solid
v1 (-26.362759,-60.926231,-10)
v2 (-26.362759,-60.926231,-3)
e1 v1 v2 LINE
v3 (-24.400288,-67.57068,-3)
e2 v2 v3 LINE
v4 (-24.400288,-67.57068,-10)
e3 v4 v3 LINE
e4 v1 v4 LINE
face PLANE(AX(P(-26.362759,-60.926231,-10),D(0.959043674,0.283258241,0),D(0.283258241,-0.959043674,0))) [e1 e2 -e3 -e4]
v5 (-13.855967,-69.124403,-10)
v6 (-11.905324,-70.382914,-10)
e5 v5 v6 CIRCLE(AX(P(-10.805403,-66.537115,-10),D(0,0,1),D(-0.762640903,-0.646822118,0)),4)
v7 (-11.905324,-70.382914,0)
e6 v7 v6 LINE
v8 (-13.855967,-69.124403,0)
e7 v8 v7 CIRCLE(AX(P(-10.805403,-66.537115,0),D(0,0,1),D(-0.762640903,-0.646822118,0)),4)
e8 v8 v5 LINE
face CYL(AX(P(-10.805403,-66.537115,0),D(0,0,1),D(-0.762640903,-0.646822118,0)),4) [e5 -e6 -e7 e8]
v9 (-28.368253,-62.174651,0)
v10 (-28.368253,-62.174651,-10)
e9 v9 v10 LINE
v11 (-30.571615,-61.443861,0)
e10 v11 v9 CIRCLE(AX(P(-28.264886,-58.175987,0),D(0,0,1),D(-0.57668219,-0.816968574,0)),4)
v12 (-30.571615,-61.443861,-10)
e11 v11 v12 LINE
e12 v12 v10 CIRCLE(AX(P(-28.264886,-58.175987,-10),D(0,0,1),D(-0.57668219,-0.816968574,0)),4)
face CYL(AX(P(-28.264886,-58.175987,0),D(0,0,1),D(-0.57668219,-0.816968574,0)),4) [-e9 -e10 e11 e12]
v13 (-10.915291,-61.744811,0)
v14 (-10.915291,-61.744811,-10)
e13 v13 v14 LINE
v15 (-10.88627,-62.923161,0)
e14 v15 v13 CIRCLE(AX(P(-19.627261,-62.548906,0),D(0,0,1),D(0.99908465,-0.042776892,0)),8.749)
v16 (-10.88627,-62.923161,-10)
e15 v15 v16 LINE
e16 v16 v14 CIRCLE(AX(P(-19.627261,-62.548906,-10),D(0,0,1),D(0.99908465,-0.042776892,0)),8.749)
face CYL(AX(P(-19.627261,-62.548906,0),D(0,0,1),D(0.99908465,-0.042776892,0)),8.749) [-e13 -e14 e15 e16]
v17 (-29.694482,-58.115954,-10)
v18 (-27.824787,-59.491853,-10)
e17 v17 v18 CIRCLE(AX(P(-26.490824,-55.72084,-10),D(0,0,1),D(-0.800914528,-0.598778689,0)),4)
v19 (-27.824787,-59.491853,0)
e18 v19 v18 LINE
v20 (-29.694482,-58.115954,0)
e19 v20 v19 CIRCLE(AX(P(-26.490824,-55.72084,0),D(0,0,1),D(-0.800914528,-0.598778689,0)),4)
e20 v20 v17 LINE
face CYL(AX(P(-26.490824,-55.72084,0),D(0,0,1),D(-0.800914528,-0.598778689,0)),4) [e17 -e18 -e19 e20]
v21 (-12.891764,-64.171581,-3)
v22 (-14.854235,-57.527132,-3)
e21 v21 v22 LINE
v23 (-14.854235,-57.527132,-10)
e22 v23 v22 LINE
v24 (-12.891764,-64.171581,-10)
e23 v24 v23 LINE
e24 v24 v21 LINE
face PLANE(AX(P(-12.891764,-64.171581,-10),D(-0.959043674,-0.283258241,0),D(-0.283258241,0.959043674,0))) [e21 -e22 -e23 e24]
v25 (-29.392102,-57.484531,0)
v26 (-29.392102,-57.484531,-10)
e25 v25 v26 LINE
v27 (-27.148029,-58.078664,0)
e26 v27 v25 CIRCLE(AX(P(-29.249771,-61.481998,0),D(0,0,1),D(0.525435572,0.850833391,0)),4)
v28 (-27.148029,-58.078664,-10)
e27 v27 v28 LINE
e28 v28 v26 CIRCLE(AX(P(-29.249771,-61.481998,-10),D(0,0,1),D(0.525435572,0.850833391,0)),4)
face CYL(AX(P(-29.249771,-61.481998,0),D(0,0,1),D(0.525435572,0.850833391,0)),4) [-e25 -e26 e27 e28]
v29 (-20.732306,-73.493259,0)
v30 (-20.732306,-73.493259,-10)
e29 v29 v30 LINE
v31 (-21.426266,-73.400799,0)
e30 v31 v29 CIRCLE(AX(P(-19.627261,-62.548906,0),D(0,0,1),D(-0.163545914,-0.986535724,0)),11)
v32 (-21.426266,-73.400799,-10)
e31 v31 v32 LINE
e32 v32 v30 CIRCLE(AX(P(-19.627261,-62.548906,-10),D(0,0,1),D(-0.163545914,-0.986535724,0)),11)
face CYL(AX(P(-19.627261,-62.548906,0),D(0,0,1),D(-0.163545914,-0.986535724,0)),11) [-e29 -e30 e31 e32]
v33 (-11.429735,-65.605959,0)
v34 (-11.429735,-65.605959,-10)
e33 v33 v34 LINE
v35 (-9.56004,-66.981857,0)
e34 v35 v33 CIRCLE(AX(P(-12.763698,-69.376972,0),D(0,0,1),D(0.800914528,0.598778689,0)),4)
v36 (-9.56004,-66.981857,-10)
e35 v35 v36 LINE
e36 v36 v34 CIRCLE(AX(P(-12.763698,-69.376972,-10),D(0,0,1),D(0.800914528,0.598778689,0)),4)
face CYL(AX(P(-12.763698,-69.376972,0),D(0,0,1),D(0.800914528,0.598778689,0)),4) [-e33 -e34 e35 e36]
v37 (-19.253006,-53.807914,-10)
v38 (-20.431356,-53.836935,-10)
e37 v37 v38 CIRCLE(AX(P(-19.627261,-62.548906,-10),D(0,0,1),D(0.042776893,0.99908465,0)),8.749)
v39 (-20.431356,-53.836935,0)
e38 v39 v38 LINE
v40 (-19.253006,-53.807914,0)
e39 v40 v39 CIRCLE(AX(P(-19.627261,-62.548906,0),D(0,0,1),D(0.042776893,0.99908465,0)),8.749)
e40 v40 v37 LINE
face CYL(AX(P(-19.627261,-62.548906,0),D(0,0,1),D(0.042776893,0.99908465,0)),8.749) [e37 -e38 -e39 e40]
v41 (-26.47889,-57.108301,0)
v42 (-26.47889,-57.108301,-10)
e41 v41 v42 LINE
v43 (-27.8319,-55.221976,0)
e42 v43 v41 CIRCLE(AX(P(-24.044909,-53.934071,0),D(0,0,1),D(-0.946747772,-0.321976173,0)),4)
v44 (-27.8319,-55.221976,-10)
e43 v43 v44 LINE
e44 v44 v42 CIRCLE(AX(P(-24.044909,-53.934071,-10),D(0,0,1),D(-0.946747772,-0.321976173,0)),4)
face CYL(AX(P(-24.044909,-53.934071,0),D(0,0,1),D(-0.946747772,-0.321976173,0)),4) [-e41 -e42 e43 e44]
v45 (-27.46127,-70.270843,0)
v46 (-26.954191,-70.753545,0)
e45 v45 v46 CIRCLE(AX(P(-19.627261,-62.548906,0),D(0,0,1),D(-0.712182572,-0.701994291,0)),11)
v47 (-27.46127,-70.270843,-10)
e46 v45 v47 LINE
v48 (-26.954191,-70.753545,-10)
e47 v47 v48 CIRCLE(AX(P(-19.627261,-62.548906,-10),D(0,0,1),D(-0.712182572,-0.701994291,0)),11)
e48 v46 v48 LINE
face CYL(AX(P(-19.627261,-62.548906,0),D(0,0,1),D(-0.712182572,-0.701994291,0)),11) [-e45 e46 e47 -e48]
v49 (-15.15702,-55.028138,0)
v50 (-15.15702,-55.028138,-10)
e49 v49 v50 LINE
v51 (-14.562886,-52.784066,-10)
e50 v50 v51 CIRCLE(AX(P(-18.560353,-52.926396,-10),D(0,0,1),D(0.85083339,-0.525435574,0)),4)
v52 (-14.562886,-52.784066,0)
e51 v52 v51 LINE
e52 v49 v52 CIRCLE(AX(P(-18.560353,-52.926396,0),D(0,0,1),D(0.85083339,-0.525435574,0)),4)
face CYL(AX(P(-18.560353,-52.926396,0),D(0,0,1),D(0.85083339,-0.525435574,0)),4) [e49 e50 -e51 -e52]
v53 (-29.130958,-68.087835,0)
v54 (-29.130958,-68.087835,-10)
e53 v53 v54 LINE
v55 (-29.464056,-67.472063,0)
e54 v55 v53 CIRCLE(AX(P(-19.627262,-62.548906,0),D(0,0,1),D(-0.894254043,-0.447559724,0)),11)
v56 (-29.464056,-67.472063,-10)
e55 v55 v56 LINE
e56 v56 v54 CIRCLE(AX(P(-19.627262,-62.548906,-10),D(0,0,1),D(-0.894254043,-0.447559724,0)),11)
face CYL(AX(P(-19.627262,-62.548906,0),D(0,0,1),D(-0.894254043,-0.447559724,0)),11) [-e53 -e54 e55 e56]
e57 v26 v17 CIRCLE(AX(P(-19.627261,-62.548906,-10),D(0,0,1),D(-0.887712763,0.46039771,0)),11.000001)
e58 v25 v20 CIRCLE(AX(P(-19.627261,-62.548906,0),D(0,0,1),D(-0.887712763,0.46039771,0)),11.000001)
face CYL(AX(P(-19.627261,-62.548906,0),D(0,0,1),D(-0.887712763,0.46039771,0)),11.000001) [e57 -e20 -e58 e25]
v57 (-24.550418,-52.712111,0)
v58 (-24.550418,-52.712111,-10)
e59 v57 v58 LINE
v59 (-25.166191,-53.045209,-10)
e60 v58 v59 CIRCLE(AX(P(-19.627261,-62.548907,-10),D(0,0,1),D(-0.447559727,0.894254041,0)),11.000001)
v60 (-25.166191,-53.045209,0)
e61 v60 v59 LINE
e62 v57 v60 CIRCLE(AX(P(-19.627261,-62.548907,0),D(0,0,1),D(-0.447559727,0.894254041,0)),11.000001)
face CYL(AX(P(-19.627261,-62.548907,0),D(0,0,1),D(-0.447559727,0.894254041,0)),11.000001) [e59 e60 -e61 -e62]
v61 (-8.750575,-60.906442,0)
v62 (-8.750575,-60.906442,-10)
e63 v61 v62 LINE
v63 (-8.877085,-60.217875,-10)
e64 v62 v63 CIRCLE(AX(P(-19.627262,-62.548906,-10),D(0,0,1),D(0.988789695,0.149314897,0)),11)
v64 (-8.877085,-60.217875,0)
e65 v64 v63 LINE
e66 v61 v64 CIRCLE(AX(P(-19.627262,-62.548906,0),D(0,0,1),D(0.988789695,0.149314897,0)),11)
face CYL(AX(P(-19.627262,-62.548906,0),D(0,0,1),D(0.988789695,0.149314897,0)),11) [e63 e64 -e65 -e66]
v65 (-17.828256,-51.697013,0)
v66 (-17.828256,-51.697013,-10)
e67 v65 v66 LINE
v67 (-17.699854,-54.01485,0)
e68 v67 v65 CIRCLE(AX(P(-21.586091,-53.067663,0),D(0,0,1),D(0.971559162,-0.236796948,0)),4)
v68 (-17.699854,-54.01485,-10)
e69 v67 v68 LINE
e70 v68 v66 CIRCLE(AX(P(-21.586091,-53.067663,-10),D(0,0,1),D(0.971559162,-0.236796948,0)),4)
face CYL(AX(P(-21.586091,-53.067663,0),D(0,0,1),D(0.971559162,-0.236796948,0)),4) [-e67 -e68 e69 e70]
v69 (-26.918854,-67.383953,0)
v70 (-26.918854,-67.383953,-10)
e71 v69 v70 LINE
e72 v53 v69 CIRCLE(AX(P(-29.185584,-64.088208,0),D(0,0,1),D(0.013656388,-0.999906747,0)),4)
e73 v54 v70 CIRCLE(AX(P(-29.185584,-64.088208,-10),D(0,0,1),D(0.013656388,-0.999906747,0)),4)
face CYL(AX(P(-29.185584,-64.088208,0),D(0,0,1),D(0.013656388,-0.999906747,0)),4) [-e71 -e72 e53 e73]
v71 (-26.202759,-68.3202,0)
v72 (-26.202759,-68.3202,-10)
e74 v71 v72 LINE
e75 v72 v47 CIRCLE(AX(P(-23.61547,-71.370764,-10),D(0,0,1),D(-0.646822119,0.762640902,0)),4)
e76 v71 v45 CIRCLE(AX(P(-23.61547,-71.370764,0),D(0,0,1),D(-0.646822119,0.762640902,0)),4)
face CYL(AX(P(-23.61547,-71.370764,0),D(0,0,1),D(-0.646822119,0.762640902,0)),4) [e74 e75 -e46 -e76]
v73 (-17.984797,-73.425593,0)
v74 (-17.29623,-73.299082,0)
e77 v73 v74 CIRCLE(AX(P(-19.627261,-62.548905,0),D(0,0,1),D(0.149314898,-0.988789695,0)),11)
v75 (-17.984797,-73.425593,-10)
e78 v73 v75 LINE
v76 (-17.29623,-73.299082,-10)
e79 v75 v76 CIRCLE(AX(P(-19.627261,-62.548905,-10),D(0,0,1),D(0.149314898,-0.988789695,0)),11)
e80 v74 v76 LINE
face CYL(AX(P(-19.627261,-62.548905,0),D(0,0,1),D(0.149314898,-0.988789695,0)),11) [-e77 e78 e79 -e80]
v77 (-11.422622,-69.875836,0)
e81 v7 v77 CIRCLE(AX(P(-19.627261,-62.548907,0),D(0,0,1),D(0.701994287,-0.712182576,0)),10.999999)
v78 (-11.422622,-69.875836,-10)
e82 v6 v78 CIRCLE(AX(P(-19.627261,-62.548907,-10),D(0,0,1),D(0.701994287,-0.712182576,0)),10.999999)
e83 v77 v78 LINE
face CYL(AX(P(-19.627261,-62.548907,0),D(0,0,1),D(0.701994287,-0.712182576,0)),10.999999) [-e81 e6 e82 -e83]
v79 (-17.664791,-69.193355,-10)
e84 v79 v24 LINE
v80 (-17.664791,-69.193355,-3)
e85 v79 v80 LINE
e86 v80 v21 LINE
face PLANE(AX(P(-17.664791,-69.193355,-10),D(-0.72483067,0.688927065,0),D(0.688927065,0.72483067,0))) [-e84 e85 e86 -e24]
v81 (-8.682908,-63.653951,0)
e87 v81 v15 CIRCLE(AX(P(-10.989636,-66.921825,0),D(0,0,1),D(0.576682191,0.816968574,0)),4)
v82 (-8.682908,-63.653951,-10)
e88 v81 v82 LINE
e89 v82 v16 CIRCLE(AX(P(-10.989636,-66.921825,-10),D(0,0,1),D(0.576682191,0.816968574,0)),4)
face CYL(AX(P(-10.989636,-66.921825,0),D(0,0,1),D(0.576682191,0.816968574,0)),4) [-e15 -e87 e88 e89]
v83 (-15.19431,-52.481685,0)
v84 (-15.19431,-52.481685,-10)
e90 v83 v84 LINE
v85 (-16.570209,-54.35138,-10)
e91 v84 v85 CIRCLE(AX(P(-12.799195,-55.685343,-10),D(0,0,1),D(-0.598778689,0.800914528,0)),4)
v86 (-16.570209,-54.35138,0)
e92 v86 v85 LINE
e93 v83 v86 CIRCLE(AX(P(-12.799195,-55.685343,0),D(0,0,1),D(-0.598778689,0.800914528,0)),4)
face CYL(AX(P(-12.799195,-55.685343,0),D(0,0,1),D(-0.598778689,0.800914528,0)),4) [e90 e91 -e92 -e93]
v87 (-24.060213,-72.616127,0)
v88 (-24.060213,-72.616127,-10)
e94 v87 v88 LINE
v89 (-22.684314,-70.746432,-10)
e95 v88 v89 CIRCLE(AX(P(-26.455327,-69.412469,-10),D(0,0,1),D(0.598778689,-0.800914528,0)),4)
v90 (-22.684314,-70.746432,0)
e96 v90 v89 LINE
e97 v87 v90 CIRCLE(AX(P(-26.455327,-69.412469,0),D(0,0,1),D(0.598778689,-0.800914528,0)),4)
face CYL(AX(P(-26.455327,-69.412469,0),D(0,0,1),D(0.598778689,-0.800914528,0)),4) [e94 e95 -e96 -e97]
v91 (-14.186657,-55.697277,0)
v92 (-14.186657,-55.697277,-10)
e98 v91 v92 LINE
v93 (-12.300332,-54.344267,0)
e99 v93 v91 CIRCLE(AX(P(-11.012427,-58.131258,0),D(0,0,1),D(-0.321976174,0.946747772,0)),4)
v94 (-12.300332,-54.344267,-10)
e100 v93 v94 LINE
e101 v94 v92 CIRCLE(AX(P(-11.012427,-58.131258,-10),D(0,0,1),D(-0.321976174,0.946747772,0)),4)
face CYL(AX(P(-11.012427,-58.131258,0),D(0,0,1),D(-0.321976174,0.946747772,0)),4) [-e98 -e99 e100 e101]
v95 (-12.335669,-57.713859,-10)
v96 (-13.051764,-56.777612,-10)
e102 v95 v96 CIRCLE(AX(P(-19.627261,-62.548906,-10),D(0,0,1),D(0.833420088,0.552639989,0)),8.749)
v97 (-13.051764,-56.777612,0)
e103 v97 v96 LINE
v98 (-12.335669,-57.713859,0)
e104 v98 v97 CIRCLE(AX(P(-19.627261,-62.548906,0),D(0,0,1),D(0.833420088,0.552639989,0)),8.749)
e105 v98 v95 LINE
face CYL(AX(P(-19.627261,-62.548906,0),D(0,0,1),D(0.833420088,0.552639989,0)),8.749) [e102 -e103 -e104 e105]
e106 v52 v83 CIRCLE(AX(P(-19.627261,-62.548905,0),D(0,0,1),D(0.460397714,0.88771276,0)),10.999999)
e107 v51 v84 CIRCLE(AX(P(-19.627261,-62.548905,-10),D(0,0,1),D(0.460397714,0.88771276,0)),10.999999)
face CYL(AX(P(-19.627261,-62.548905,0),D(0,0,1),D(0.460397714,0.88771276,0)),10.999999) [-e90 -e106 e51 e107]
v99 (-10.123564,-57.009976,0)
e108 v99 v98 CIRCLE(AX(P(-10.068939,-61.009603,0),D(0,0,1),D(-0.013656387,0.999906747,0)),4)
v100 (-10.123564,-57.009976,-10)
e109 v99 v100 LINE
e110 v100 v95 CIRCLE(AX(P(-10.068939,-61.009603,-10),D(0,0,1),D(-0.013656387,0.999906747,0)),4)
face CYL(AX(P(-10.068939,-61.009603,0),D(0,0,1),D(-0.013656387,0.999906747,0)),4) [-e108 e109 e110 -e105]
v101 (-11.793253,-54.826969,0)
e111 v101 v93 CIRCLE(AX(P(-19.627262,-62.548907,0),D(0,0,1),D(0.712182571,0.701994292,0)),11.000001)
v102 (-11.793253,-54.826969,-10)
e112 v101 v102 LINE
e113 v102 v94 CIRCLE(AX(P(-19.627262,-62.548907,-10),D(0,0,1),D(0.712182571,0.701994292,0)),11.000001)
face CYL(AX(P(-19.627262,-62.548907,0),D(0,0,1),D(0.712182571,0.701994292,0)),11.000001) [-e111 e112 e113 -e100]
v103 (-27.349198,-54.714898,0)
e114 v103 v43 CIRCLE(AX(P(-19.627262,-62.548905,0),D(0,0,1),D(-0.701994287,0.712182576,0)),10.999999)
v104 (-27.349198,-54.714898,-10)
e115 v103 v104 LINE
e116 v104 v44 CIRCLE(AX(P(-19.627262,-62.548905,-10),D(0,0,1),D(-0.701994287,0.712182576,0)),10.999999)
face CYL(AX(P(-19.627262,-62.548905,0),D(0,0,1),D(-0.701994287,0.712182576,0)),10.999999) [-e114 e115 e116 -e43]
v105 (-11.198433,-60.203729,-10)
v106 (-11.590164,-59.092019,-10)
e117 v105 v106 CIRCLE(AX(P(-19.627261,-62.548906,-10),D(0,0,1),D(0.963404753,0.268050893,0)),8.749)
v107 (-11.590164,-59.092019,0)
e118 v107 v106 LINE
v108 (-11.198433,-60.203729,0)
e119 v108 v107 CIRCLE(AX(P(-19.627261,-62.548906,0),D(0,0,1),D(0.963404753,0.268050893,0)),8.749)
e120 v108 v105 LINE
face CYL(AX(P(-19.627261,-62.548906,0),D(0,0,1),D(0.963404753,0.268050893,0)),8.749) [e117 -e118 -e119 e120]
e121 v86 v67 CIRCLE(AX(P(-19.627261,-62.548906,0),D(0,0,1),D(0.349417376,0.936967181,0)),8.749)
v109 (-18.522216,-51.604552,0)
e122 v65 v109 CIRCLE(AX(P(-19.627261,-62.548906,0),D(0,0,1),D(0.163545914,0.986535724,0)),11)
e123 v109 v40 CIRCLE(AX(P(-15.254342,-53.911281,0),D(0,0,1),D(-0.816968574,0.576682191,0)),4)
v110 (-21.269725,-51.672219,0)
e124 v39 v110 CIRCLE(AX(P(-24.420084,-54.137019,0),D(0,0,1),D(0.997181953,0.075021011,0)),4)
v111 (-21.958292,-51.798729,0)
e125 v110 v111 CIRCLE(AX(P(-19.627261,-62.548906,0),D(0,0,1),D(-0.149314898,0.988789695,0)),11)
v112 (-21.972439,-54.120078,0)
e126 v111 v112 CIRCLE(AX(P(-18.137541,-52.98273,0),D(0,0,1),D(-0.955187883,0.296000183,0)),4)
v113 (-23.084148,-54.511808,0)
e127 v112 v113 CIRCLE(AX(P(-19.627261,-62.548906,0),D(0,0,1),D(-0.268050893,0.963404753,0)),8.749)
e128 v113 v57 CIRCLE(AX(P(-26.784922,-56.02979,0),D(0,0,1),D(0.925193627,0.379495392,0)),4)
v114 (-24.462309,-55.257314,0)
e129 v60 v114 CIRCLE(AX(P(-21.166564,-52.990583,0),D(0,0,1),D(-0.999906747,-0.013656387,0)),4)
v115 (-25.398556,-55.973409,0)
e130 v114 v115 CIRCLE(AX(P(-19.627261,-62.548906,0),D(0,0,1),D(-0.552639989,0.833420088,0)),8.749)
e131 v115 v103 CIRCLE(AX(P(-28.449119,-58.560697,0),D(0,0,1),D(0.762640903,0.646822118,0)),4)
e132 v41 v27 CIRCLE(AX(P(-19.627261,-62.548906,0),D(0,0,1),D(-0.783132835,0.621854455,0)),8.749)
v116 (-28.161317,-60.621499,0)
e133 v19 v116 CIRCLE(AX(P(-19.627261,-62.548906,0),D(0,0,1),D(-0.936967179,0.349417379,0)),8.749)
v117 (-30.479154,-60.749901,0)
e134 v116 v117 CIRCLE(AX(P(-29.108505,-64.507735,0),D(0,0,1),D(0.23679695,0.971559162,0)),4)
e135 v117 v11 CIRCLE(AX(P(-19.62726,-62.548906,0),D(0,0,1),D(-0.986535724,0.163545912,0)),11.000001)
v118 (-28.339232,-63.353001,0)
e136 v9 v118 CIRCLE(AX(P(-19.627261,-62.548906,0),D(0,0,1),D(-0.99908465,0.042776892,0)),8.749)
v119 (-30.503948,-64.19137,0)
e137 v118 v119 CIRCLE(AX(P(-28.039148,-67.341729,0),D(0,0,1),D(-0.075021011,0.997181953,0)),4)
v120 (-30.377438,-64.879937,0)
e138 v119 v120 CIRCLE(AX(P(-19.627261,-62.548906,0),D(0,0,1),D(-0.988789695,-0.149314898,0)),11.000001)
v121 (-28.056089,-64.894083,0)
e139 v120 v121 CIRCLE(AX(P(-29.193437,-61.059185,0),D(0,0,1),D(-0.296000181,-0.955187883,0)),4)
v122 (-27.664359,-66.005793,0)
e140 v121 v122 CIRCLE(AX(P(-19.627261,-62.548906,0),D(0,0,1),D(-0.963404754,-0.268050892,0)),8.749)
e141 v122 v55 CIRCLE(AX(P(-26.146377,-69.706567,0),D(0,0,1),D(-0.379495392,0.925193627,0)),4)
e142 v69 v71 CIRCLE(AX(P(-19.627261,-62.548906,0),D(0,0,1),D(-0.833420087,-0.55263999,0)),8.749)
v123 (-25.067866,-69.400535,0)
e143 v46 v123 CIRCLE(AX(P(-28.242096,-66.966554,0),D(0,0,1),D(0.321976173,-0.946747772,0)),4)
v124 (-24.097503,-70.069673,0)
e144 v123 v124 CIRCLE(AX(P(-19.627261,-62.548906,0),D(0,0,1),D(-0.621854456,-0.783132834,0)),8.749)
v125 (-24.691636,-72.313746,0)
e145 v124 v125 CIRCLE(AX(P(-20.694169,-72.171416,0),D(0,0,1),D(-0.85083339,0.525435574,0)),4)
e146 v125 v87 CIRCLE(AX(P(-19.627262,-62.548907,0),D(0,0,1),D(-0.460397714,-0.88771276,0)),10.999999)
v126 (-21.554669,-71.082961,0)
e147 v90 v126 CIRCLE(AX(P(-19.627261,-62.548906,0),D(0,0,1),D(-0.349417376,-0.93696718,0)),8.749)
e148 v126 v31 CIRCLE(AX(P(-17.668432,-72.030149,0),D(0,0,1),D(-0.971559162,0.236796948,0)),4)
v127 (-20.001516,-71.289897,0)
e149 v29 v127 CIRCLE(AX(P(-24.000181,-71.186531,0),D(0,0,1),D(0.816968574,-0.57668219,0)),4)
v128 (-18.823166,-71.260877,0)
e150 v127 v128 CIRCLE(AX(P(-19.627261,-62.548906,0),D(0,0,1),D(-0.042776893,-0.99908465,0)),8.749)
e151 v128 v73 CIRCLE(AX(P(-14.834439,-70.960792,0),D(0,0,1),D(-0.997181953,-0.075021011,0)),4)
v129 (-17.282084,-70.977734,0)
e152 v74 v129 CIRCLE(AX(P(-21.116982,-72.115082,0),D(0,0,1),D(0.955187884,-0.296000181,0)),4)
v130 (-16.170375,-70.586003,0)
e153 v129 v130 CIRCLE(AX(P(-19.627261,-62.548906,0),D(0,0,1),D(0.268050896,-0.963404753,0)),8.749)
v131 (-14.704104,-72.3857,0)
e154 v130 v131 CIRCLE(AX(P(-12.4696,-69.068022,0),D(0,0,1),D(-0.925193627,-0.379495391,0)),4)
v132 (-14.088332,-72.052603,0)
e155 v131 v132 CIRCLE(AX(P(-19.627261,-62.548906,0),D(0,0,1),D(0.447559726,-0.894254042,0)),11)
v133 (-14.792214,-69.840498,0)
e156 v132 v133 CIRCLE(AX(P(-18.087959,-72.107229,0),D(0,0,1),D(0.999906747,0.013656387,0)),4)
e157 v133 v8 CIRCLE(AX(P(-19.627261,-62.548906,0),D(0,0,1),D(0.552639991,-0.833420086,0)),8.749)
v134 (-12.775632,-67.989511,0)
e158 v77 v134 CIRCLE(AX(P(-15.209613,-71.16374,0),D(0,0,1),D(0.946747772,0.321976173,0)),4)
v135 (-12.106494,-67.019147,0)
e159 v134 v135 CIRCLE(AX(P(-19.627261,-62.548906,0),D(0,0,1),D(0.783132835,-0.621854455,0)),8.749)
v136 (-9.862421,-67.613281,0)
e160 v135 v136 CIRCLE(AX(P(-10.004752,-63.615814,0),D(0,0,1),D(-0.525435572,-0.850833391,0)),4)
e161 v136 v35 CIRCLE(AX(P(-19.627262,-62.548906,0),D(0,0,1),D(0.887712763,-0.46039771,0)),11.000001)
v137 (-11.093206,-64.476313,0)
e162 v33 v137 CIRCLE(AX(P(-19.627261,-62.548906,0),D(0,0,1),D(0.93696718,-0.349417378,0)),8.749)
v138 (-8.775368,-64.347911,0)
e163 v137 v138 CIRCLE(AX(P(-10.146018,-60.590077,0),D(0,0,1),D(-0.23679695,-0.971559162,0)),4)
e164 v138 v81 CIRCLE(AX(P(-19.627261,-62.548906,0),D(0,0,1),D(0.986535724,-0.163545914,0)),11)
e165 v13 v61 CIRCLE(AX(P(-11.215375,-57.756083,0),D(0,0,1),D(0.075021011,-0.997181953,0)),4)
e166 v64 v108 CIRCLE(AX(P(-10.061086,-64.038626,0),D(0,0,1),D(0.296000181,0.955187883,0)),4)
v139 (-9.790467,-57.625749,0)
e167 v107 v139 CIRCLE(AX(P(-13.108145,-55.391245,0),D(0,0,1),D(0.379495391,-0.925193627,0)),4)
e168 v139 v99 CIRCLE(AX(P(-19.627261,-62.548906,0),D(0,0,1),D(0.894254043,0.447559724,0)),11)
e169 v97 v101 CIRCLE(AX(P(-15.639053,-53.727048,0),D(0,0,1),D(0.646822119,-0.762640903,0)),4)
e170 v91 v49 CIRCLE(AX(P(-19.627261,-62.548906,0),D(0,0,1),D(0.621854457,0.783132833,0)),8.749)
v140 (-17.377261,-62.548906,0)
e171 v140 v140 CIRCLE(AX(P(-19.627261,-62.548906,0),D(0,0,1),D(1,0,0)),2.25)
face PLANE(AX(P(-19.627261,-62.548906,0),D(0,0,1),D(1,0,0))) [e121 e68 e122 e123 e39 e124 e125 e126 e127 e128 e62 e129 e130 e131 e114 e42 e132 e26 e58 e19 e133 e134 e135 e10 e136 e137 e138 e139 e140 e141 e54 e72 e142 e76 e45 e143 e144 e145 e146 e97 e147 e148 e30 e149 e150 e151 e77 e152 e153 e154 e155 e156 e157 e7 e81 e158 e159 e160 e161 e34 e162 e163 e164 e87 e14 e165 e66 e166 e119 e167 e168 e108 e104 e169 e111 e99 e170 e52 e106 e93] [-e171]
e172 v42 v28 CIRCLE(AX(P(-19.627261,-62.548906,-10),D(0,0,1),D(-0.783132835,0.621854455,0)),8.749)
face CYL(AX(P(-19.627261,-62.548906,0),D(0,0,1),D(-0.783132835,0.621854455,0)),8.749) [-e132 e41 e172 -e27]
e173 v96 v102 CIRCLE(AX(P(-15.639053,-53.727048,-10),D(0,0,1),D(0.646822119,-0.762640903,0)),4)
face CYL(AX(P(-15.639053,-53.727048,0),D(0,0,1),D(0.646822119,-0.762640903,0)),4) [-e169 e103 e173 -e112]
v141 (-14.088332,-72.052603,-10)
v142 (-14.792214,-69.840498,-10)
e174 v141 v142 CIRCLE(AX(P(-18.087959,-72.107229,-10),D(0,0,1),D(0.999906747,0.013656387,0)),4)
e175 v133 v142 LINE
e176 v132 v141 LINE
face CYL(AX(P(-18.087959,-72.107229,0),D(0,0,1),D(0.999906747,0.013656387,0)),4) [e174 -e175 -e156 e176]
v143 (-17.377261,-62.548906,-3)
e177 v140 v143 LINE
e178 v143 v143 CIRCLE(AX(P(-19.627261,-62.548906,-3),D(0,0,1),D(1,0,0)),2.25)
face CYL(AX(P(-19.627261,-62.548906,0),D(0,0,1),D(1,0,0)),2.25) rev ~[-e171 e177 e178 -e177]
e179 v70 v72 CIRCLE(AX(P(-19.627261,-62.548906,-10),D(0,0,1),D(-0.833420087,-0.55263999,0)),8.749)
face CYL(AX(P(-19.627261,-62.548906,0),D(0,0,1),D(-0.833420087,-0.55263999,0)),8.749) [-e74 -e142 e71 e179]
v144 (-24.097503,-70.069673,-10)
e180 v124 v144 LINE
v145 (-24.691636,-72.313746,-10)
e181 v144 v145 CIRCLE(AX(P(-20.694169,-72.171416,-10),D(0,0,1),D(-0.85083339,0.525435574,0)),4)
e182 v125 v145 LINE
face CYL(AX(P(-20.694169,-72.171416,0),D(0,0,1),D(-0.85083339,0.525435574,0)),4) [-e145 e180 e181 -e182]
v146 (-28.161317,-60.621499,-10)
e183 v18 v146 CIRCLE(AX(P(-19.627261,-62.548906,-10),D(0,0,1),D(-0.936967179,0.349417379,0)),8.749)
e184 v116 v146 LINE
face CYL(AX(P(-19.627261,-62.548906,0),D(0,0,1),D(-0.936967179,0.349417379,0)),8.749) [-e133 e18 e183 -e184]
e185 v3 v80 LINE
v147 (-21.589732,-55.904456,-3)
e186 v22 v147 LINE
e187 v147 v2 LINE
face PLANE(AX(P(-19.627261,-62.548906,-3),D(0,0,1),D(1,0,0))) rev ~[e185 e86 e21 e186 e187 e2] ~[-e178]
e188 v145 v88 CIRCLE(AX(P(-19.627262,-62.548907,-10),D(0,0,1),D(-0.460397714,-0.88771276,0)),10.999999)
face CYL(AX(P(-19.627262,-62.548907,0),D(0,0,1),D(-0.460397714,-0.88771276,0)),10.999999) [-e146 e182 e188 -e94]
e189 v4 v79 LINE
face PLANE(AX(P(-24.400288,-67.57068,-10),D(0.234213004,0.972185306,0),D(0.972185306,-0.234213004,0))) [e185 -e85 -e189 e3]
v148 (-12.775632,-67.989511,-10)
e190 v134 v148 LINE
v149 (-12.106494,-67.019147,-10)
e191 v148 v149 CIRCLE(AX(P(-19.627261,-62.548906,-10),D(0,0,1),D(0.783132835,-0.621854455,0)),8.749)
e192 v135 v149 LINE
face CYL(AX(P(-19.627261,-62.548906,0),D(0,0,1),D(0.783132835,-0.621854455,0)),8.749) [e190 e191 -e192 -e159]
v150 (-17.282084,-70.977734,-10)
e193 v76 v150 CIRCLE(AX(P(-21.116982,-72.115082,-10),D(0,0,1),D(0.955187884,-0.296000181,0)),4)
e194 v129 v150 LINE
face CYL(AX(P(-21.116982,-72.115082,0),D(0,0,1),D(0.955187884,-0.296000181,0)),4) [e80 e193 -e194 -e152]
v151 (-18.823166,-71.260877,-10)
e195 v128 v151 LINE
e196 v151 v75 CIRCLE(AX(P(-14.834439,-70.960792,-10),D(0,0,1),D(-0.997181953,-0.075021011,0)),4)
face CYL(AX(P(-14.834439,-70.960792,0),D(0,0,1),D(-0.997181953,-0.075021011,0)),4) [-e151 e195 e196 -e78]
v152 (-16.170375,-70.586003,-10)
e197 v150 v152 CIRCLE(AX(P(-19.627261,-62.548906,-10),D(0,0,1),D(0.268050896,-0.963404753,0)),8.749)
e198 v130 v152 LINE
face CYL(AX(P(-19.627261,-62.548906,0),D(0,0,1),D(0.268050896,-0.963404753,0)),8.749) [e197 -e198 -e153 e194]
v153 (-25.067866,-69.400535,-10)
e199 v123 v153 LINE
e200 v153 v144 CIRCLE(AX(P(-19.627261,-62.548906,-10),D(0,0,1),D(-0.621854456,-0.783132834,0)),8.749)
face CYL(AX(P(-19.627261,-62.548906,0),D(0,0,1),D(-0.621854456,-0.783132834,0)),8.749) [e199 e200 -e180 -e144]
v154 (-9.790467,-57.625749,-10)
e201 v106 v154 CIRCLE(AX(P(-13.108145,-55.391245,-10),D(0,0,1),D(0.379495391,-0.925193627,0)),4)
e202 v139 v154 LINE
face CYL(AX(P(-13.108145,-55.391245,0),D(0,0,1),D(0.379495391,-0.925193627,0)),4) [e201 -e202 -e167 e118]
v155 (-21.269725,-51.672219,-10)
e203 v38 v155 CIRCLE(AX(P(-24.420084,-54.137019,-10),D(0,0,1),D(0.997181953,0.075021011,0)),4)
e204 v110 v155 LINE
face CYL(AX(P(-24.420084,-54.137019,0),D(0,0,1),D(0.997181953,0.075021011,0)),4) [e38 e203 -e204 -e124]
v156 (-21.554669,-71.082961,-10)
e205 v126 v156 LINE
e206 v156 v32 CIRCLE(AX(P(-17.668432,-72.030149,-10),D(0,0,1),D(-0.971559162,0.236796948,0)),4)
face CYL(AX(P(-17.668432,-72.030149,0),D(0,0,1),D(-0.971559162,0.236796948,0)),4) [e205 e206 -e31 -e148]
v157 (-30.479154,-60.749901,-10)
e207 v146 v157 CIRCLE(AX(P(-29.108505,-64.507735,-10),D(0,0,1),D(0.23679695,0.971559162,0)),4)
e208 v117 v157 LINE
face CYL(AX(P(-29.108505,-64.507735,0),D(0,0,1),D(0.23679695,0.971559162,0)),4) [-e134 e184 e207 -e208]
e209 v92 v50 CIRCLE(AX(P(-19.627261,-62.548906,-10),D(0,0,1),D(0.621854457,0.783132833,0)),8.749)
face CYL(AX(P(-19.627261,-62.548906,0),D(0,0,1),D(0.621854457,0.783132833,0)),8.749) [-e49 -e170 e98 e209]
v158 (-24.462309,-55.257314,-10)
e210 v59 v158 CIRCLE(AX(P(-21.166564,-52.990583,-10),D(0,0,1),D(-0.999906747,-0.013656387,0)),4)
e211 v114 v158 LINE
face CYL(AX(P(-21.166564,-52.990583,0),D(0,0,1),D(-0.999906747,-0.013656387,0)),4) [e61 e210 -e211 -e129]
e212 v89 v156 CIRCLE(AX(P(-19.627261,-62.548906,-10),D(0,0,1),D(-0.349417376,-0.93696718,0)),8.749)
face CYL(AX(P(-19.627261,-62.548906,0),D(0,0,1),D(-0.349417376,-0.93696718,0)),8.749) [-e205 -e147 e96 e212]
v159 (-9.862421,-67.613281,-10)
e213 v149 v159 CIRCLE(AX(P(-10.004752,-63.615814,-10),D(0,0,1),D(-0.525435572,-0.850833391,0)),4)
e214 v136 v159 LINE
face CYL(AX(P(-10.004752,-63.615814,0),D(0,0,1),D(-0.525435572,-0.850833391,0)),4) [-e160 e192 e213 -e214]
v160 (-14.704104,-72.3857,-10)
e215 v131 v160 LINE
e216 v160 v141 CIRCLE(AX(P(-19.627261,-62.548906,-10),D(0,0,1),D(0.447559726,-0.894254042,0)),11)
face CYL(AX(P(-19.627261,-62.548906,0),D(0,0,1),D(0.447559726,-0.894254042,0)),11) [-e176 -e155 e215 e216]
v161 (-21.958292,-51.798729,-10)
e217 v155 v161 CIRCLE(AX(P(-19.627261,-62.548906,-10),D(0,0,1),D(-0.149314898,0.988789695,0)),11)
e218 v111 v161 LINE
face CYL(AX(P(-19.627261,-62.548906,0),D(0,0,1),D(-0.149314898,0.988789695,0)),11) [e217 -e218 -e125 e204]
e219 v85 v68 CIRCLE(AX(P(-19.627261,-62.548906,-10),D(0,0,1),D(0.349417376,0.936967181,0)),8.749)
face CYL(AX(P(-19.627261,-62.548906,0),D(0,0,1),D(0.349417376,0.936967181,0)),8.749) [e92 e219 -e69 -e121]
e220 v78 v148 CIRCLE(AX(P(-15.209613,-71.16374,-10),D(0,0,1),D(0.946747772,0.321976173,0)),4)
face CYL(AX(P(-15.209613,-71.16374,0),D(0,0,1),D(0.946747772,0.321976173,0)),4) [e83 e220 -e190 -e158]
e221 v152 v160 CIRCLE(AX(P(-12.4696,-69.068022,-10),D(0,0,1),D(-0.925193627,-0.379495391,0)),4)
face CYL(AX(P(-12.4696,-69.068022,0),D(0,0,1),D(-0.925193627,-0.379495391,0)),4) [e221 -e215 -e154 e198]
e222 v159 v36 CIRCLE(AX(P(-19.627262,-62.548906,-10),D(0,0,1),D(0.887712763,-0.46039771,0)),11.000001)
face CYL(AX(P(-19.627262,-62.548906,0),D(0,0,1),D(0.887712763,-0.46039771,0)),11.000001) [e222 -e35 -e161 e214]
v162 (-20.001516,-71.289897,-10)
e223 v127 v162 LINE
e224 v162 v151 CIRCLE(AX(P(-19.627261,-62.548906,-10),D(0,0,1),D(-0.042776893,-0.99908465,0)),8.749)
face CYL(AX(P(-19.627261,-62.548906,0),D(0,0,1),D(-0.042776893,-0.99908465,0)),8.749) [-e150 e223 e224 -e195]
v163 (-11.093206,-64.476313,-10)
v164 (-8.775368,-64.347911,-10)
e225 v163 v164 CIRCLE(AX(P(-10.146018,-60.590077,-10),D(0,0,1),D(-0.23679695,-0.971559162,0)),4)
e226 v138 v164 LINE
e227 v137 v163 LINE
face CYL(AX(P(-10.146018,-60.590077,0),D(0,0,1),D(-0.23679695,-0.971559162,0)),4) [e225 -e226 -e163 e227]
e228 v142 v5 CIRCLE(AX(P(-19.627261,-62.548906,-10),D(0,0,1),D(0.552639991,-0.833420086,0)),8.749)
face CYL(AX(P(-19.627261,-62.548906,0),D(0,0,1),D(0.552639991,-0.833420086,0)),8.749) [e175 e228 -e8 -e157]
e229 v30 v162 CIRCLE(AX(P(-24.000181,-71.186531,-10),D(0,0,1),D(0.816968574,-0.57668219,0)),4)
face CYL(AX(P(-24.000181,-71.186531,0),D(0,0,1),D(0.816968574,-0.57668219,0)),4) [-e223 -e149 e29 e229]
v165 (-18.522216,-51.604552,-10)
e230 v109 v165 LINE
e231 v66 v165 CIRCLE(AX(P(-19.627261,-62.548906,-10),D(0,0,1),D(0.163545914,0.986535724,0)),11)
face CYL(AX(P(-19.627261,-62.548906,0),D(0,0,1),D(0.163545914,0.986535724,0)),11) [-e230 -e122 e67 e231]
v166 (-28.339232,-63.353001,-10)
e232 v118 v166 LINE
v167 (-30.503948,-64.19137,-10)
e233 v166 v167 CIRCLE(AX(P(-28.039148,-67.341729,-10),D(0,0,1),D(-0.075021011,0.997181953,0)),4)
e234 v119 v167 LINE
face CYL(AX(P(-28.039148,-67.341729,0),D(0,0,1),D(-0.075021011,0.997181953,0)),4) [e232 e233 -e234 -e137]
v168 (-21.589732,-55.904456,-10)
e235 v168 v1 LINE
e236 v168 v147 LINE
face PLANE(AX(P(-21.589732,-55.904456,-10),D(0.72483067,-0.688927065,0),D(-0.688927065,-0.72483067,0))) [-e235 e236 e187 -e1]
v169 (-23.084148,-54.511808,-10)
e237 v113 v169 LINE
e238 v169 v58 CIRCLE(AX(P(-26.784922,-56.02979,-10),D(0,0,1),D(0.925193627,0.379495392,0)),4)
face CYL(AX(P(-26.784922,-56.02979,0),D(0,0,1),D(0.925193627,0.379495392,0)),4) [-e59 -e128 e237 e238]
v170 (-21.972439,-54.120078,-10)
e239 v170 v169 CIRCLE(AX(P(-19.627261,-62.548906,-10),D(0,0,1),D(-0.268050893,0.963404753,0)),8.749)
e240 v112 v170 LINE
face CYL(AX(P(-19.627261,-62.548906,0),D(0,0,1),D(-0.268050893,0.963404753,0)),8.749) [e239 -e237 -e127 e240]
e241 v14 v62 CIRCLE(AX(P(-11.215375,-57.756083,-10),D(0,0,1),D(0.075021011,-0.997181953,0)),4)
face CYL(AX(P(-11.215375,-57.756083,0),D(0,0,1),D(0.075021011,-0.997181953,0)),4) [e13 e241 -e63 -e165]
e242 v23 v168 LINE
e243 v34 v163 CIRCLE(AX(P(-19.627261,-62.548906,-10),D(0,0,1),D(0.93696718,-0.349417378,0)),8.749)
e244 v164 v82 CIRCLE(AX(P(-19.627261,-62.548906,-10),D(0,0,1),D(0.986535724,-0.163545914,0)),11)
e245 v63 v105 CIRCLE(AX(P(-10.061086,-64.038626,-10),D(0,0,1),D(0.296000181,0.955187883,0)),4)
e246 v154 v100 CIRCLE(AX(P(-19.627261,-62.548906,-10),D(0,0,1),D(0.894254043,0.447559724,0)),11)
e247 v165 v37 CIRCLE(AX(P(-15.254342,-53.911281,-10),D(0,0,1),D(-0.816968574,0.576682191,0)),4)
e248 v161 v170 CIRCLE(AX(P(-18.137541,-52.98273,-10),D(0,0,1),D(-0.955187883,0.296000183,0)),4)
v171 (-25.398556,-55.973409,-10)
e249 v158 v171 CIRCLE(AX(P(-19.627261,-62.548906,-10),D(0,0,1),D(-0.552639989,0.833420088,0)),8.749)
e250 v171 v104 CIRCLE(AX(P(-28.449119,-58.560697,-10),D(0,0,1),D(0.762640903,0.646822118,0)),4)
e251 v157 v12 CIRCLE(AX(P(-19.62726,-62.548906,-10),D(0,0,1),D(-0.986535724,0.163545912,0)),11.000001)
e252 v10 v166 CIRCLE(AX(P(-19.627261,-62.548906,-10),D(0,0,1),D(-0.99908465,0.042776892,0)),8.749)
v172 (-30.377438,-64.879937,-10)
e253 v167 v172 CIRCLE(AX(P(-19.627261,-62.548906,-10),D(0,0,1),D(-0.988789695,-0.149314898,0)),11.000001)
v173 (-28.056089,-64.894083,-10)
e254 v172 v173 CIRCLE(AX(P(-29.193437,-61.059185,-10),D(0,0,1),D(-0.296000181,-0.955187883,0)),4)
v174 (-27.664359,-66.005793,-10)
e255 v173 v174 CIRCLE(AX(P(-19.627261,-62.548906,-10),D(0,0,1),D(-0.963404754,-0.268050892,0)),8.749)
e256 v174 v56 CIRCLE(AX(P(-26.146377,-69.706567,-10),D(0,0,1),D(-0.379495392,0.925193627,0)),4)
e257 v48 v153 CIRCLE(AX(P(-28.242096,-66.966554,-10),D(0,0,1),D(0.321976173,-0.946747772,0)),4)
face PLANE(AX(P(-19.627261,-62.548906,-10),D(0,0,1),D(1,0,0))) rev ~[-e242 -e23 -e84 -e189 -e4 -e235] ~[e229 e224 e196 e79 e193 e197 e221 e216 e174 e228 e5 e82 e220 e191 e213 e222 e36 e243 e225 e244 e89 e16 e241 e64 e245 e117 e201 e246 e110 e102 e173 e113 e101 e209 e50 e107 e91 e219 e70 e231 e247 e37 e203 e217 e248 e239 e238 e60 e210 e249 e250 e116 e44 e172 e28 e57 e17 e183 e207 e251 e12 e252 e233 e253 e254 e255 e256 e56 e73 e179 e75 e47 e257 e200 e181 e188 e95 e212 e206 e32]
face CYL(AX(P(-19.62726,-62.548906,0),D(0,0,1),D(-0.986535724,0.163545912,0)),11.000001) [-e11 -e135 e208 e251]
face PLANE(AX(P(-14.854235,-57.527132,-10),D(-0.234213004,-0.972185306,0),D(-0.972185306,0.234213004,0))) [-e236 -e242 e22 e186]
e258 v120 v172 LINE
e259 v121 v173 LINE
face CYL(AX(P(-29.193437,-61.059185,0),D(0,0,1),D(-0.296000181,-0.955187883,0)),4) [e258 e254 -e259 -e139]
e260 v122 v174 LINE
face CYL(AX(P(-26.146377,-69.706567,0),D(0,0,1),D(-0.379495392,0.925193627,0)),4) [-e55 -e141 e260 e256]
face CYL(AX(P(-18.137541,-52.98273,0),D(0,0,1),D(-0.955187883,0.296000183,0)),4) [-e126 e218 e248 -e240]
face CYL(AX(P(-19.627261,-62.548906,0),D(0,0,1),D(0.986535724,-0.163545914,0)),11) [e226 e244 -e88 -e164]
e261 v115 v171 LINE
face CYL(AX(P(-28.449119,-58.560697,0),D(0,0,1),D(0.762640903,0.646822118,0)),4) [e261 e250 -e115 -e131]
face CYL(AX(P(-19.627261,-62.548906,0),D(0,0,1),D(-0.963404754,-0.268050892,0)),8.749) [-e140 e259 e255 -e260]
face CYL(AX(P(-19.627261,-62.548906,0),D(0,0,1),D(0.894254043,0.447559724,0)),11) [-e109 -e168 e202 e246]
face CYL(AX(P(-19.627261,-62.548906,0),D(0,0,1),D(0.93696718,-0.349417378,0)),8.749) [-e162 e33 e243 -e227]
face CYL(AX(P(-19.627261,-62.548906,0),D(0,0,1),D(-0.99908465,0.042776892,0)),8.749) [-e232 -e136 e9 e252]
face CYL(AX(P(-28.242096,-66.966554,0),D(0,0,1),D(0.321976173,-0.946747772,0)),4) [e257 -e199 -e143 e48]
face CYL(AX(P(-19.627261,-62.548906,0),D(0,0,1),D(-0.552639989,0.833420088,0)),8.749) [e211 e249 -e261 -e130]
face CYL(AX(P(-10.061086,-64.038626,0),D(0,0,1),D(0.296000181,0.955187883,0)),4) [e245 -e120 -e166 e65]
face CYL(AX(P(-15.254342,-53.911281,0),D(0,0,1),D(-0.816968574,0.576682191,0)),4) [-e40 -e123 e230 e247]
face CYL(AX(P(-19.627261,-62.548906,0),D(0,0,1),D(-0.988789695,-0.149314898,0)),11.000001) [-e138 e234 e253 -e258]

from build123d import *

# Parameters (mm, degrees)
SKETCH1_R           = 2.25
BOSS_EXTRUDE1_DEPTH = 10
CUT_EXTRUDE1_DEPTH  = 7


with BuildPart() as part:
    # Sketch1 → Boss-Extrude1 (new body)
    with BuildSketch(Plane.XY):
        with BuildLine():
            ThreePointArc((-30.571614903, -61.443860954), (-29.524113514, -61.972609686), (-28.368252904, -62.174650848))
            ThreePointArc((-28.368252904, -62.174650848), (-28.373609105, -62.764315084), (-28.339231944, -63.353000748))
            ThreePointArc((-28.339231944, -63.353000748), (-29.483745303, -63.611696612), (-30.503947952, -64.19136974))
            ThreePointArc((-30.503947952, -64.19136974), (-30.446172213, -64.536660067), (-30.377437772, -64.879936957))
            ThreePointArc((-30.377437772, -64.879936957), (-29.217812407, -65.059111153), (-28.056089489, -64.894083145))
            ThreePointArc((-28.056089489, -64.894083145), (-27.878967269, -65.456542317), (-27.664358771, -66.005792526))
            ThreePointArc((-27.664358771, -66.005792526), (-28.672914241, -66.605500992), (-29.464055771, -67.472062854))
            ThreePointArc((-29.464055771, -67.472062854), (-29.302407199, -67.782599785), (-29.130958468, -68.087835397))
            ThreePointArc((-29.130958468, -68.087835397), (-27.972721336, -67.899896238), (-26.918853644, -67.383953152))
            ThreePointArc((-26.918853644, -67.383953152), (-26.57659096, -67.864149836), (-26.202758501, -68.320200154))
            ThreePointArc((-26.202758501, -68.320200154), (-26.976631645, -69.202217578), (-27.46126961, -70.270843062))
            ThreePointArc((-27.46126961, -70.270843062), (-27.211571493, -70.516229077), (-26.954191069, -70.753544823))
            ThreePointArc((-26.954191069, -70.753544823), (-25.910718491, -70.216889105), (-25.067865938, -69.400535044))
            ThreePointArc((-25.067865938, -69.400535044), (-24.593965845, -69.751464244), (-24.09750275, -70.069673287))
            ThreePointArc((-24.09750275, -70.069673287), (-24.560941474, -71.147661659), (-24.691636133, -72.313746256))
            ThreePointArc((-24.691636133, -72.313746256), (-24.378330663, -72.469961264), (-24.060212735, -72.616127025))
            ThreePointArc((-24.060212735, -72.616127025), (-23.233647078, -71.783286348), (-22.684313942, -70.746431736))
            ThreePointArc((-22.684313942, -70.746431736), (-22.125165085, -70.933742055), (-21.554668621, -71.082961306))
            ThreePointArc((-21.554668621, -71.082961306), (-21.662308312, -72.251399614), (-21.426266363, -73.400798839))
            ThreePointArc((-21.426266363, -73.400798839), (-21.080022062, -73.452551425), (-20.732306229, -73.493259479))
            ThreePointArc((-20.732306229, -73.493259479), (-20.203557497, -72.44575809), (-20.001516335, -71.289897481))
            ThreePointArc((-20.001516335, -71.289897481), (-19.411852099, -71.295253682), (-18.823166434, -71.26087652))
            ThreePointArc((-18.823166434, -71.26087652), (-18.56447057, -72.40538988), (-17.984797442, -73.425592529))
            ThreePointArc((-17.984797442, -73.425592529), (-17.639507115, -73.36781679), (-17.296230226, -73.299082349))
            ThreePointArc((-17.296230226, -73.299082349), (-17.11705603, -72.139456983), (-17.282084037, -70.977734066))
            ThreePointArc((-17.282084037, -70.977734066), (-16.719624866, -70.800611845), (-16.170374656, -70.586003347))
            ThreePointArc((-16.170374656, -70.586003347), (-15.57066619, -71.594558818), (-14.704104328, -72.385700347))
            ThreePointArc((-14.704104328, -72.385700347), (-14.393567398, -72.224051775), (-14.088331786, -72.052603044))
            ThreePointArc((-14.088331786, -72.052603044), (-14.276270944, -70.894365913), (-14.79221403, -69.840498221))
            ThreePointArc((-14.79221403, -69.840498221), (-14.312017346, -69.498235536), (-13.855967028, -69.124403077))
            ThreePointArc((-13.855967028, -69.124403077), (-12.973949604, -69.898276222), (-11.905324121, -70.382914186))
            ThreePointArc((-11.905324121, -70.382914186), (-11.659938105, -70.13321607), (-11.422622359, -69.875835646))
            ThreePointArc((-11.422622359, -69.875835646), (-11.959278077, -68.832363068), (-12.775632138, -67.989510514))
            ThreePointArc((-12.775632138, -67.989510514), (-12.424702939, -67.515610422), (-12.106493895, -67.019147327))
            ThreePointArc((-12.106493895, -67.019147327), (-11.028505523, -67.48258605), (-9.862420926, -67.61328071))
            ThreePointArc((-9.862420926, -67.61328071), (-9.706205919, -67.29997524), (-9.560040157, -66.981857312))
            ThreePointArc((-9.560040157, -66.981857312), (-10.392880835, -66.155291654), (-11.429735447, -65.605958519))
            ThreePointArc((-11.429735447, -65.605958519), (-11.242425127, -65.046809661), (-11.093205876, -64.476313197))
            ThreePointArc((-11.093205876, -64.476313197), (-9.924767569, -64.583952889), (-8.775368344, -64.347910939))
            ThreePointArc((-8.775368344, -64.347910939), (-8.723615758, -64.001666638), (-8.682907704, -63.653950805))
            ThreePointArc((-8.682907704, -63.653950805), (-9.730409092, -63.125202073), (-10.886269702, -62.923160911))
            ThreePointArc((-10.886269702, -62.923160911), (-10.880913501, -62.333496675), (-10.915290662, -61.744811011))
            ThreePointArc((-10.915290662, -61.744811011), (-9.770777303, -61.486115147), (-8.750574654, -60.906442019))
            ThreePointArc((-8.750574654, -60.906442019), (-8.808350393, -60.561151691), (-8.877084834, -60.217874802))
            ThreePointArc((-8.877084834, -60.217874802), (-10.036710199, -60.038700606), (-11.198433117, -60.203728614))
            ThreePointArc((-11.198433117, -60.203728614), (-11.375555337, -59.641269442), (-11.590163835, -59.092019232))
            ThreePointArc((-11.590163835, -59.092019232), (-10.581608365, -58.492310767), (-9.790466835, -57.625748905))
            ThreePointArc((-9.790466835, -57.625748905), (-9.952115407, -57.315211974), (-10.123564138, -57.009976362))
            ThreePointArc((-10.123564138, -57.009976362), (-11.28180127, -57.19791552), (-12.335668962, -57.713858607))
            ThreePointArc((-12.335668962, -57.713858607), (-12.677931646, -57.233661923), (-13.051764106, -56.777611605))
            ThreePointArc((-13.051764106, -56.777611605), (-12.277890961, -55.89559418), (-11.793252996, -54.826968697))
            ThreePointArc((-11.793252996, -54.826968697), (-12.042951113, -54.581582682), (-12.300331537, -54.344266935))
            ThreePointArc((-12.300331537, -54.344266935), (-13.343804115, -54.880922654), (-14.186656669, -55.697276715))
            ThreePointArc((-14.186656669, -55.697276715), (-14.660556761, -55.346347515), (-15.157019856, -55.028138471))
            ThreePointArc((-15.157019856, -55.028138471), (-14.693581132, -53.9501501), (-14.562886473, -52.784065503))
            ThreePointArc((-14.562886473, -52.784065503), (-14.876191943, -52.627850495), (-15.194309871, -52.481684734))
            ThreePointArc((-15.194309871, -52.481684734), (-16.020875528, -53.314525411), (-16.570208664, -54.351380023))
            ThreePointArc((-16.570208664, -54.351380023), (-17.129357521, -54.164069704), (-17.699853985, -54.014850452))
            ThreePointArc((-17.699853985, -54.014850452), (-17.592214294, -52.846412145), (-17.828256244, -51.69701292))
            ThreePointArc((-17.828256244, -51.69701292), (-18.174500544, -51.645260334), (-18.522216377, -51.60455228))
            ThreePointArc((-18.522216377, -51.60455228), (-19.050965109, -52.652053668), (-19.253006271, -53.807914278))
            ThreePointArc((-19.253006271, -53.807914278), (-19.842670508, -53.802558077), (-20.431356172, -53.836935239))
            ThreePointArc((-20.431356172, -53.836935239), (-20.690052036, -52.692421879), (-21.269725164, -51.67221923))
            ThreePointArc((-21.269725164, -51.67221923), (-21.615015491, -51.729994969), (-21.95829238, -51.79872941))
            ThreePointArc((-21.95829238, -51.79872941), (-22.137466577, -52.958354776), (-21.972438569, -54.120077693))
            ThreePointArc((-21.972438569, -54.120077693), (-22.53489774, -54.297199913), (-23.08414795, -54.511808411))
            ThreePointArc((-23.08414795, -54.511808411), (-23.683856416, -53.503252941), (-24.550418278, -52.712111412))
            ThreePointArc((-24.550418278, -52.712111412), (-24.860955208, -52.873759984), (-25.16619082, -53.045208714))
            ThreePointArc((-25.16619082, -53.045208714), (-24.978251662, -54.203445846), (-24.462308576, -55.257313538))
            ThreePointArc((-24.462308576, -55.257313538), (-24.94250526, -55.599576222), (-25.398555578, -55.973408682))
            ThreePointArc((-25.398555578, -55.973408682), (-26.280573002, -55.199535537), (-27.349198485, -54.714897573))
            ThreePointArc((-27.349198485, -54.714897573), (-27.594584501, -54.964595689), (-27.831900247, -55.221976113))
            ThreePointArc((-27.831900247, -55.221976113), (-27.295244529, -56.265448691), (-26.478890468, -57.108301245))
            ThreePointArc((-26.478890468, -57.108301245), (-26.829819667, -57.582201337), (-27.148028711, -58.078664432))
            ThreePointArc((-27.148028711, -58.078664432), (-28.226017083, -57.615225709), (-29.39210168, -57.484531049))
            ThreePointArc((-29.39210168, -57.484531049), (-29.548316687, -57.797836519), (-29.694482449, -58.115954447))
            ThreePointArc((-29.694482449, -58.115954447), (-28.861641771, -58.942520105), (-27.824787159, -59.49185324))
            ThreePointArc((-27.824787159, -59.49185324), (-28.012097479, -60.051002097), (-28.16131673, -60.621498562))
            ThreePointArc((-28.16131673, -60.621498562), (-29.329755037, -60.51385887), (-30.479154262, -60.74990082))
            ThreePointArc((-30.479154262, -60.74990082), (-30.530906848, -61.096145121), (-30.571614903, -61.443860954))
        make_face()
        with Locations((-19.627261303, -62.548905879)):
            Circle(SKETCH1_R, mode=Mode.SUBTRACT)
    extrude(amount=-BOSS_EXTRUDE1_DEPTH)

    # Sketch2 → Cut-Extrude1 (cut)
    with BuildSketch(Plane(origin=(0, 0, -10), x_dir=(-1, 0, 0), z_dir=(0, 0, -1))):
        Polygon((24.400288017, -67.570680067), (17.664790642, -69.19335536), (12.891763928, -64.171581173), (14.854234589, -57.527131692), (21.589731964, -55.904456399), (26.362758678, -60.926230586), align=None)
    extrude(amount=-CUT_EXTRUDE1_DEPTH, mode=Mode.SUBTRACT)


solid = part.part
